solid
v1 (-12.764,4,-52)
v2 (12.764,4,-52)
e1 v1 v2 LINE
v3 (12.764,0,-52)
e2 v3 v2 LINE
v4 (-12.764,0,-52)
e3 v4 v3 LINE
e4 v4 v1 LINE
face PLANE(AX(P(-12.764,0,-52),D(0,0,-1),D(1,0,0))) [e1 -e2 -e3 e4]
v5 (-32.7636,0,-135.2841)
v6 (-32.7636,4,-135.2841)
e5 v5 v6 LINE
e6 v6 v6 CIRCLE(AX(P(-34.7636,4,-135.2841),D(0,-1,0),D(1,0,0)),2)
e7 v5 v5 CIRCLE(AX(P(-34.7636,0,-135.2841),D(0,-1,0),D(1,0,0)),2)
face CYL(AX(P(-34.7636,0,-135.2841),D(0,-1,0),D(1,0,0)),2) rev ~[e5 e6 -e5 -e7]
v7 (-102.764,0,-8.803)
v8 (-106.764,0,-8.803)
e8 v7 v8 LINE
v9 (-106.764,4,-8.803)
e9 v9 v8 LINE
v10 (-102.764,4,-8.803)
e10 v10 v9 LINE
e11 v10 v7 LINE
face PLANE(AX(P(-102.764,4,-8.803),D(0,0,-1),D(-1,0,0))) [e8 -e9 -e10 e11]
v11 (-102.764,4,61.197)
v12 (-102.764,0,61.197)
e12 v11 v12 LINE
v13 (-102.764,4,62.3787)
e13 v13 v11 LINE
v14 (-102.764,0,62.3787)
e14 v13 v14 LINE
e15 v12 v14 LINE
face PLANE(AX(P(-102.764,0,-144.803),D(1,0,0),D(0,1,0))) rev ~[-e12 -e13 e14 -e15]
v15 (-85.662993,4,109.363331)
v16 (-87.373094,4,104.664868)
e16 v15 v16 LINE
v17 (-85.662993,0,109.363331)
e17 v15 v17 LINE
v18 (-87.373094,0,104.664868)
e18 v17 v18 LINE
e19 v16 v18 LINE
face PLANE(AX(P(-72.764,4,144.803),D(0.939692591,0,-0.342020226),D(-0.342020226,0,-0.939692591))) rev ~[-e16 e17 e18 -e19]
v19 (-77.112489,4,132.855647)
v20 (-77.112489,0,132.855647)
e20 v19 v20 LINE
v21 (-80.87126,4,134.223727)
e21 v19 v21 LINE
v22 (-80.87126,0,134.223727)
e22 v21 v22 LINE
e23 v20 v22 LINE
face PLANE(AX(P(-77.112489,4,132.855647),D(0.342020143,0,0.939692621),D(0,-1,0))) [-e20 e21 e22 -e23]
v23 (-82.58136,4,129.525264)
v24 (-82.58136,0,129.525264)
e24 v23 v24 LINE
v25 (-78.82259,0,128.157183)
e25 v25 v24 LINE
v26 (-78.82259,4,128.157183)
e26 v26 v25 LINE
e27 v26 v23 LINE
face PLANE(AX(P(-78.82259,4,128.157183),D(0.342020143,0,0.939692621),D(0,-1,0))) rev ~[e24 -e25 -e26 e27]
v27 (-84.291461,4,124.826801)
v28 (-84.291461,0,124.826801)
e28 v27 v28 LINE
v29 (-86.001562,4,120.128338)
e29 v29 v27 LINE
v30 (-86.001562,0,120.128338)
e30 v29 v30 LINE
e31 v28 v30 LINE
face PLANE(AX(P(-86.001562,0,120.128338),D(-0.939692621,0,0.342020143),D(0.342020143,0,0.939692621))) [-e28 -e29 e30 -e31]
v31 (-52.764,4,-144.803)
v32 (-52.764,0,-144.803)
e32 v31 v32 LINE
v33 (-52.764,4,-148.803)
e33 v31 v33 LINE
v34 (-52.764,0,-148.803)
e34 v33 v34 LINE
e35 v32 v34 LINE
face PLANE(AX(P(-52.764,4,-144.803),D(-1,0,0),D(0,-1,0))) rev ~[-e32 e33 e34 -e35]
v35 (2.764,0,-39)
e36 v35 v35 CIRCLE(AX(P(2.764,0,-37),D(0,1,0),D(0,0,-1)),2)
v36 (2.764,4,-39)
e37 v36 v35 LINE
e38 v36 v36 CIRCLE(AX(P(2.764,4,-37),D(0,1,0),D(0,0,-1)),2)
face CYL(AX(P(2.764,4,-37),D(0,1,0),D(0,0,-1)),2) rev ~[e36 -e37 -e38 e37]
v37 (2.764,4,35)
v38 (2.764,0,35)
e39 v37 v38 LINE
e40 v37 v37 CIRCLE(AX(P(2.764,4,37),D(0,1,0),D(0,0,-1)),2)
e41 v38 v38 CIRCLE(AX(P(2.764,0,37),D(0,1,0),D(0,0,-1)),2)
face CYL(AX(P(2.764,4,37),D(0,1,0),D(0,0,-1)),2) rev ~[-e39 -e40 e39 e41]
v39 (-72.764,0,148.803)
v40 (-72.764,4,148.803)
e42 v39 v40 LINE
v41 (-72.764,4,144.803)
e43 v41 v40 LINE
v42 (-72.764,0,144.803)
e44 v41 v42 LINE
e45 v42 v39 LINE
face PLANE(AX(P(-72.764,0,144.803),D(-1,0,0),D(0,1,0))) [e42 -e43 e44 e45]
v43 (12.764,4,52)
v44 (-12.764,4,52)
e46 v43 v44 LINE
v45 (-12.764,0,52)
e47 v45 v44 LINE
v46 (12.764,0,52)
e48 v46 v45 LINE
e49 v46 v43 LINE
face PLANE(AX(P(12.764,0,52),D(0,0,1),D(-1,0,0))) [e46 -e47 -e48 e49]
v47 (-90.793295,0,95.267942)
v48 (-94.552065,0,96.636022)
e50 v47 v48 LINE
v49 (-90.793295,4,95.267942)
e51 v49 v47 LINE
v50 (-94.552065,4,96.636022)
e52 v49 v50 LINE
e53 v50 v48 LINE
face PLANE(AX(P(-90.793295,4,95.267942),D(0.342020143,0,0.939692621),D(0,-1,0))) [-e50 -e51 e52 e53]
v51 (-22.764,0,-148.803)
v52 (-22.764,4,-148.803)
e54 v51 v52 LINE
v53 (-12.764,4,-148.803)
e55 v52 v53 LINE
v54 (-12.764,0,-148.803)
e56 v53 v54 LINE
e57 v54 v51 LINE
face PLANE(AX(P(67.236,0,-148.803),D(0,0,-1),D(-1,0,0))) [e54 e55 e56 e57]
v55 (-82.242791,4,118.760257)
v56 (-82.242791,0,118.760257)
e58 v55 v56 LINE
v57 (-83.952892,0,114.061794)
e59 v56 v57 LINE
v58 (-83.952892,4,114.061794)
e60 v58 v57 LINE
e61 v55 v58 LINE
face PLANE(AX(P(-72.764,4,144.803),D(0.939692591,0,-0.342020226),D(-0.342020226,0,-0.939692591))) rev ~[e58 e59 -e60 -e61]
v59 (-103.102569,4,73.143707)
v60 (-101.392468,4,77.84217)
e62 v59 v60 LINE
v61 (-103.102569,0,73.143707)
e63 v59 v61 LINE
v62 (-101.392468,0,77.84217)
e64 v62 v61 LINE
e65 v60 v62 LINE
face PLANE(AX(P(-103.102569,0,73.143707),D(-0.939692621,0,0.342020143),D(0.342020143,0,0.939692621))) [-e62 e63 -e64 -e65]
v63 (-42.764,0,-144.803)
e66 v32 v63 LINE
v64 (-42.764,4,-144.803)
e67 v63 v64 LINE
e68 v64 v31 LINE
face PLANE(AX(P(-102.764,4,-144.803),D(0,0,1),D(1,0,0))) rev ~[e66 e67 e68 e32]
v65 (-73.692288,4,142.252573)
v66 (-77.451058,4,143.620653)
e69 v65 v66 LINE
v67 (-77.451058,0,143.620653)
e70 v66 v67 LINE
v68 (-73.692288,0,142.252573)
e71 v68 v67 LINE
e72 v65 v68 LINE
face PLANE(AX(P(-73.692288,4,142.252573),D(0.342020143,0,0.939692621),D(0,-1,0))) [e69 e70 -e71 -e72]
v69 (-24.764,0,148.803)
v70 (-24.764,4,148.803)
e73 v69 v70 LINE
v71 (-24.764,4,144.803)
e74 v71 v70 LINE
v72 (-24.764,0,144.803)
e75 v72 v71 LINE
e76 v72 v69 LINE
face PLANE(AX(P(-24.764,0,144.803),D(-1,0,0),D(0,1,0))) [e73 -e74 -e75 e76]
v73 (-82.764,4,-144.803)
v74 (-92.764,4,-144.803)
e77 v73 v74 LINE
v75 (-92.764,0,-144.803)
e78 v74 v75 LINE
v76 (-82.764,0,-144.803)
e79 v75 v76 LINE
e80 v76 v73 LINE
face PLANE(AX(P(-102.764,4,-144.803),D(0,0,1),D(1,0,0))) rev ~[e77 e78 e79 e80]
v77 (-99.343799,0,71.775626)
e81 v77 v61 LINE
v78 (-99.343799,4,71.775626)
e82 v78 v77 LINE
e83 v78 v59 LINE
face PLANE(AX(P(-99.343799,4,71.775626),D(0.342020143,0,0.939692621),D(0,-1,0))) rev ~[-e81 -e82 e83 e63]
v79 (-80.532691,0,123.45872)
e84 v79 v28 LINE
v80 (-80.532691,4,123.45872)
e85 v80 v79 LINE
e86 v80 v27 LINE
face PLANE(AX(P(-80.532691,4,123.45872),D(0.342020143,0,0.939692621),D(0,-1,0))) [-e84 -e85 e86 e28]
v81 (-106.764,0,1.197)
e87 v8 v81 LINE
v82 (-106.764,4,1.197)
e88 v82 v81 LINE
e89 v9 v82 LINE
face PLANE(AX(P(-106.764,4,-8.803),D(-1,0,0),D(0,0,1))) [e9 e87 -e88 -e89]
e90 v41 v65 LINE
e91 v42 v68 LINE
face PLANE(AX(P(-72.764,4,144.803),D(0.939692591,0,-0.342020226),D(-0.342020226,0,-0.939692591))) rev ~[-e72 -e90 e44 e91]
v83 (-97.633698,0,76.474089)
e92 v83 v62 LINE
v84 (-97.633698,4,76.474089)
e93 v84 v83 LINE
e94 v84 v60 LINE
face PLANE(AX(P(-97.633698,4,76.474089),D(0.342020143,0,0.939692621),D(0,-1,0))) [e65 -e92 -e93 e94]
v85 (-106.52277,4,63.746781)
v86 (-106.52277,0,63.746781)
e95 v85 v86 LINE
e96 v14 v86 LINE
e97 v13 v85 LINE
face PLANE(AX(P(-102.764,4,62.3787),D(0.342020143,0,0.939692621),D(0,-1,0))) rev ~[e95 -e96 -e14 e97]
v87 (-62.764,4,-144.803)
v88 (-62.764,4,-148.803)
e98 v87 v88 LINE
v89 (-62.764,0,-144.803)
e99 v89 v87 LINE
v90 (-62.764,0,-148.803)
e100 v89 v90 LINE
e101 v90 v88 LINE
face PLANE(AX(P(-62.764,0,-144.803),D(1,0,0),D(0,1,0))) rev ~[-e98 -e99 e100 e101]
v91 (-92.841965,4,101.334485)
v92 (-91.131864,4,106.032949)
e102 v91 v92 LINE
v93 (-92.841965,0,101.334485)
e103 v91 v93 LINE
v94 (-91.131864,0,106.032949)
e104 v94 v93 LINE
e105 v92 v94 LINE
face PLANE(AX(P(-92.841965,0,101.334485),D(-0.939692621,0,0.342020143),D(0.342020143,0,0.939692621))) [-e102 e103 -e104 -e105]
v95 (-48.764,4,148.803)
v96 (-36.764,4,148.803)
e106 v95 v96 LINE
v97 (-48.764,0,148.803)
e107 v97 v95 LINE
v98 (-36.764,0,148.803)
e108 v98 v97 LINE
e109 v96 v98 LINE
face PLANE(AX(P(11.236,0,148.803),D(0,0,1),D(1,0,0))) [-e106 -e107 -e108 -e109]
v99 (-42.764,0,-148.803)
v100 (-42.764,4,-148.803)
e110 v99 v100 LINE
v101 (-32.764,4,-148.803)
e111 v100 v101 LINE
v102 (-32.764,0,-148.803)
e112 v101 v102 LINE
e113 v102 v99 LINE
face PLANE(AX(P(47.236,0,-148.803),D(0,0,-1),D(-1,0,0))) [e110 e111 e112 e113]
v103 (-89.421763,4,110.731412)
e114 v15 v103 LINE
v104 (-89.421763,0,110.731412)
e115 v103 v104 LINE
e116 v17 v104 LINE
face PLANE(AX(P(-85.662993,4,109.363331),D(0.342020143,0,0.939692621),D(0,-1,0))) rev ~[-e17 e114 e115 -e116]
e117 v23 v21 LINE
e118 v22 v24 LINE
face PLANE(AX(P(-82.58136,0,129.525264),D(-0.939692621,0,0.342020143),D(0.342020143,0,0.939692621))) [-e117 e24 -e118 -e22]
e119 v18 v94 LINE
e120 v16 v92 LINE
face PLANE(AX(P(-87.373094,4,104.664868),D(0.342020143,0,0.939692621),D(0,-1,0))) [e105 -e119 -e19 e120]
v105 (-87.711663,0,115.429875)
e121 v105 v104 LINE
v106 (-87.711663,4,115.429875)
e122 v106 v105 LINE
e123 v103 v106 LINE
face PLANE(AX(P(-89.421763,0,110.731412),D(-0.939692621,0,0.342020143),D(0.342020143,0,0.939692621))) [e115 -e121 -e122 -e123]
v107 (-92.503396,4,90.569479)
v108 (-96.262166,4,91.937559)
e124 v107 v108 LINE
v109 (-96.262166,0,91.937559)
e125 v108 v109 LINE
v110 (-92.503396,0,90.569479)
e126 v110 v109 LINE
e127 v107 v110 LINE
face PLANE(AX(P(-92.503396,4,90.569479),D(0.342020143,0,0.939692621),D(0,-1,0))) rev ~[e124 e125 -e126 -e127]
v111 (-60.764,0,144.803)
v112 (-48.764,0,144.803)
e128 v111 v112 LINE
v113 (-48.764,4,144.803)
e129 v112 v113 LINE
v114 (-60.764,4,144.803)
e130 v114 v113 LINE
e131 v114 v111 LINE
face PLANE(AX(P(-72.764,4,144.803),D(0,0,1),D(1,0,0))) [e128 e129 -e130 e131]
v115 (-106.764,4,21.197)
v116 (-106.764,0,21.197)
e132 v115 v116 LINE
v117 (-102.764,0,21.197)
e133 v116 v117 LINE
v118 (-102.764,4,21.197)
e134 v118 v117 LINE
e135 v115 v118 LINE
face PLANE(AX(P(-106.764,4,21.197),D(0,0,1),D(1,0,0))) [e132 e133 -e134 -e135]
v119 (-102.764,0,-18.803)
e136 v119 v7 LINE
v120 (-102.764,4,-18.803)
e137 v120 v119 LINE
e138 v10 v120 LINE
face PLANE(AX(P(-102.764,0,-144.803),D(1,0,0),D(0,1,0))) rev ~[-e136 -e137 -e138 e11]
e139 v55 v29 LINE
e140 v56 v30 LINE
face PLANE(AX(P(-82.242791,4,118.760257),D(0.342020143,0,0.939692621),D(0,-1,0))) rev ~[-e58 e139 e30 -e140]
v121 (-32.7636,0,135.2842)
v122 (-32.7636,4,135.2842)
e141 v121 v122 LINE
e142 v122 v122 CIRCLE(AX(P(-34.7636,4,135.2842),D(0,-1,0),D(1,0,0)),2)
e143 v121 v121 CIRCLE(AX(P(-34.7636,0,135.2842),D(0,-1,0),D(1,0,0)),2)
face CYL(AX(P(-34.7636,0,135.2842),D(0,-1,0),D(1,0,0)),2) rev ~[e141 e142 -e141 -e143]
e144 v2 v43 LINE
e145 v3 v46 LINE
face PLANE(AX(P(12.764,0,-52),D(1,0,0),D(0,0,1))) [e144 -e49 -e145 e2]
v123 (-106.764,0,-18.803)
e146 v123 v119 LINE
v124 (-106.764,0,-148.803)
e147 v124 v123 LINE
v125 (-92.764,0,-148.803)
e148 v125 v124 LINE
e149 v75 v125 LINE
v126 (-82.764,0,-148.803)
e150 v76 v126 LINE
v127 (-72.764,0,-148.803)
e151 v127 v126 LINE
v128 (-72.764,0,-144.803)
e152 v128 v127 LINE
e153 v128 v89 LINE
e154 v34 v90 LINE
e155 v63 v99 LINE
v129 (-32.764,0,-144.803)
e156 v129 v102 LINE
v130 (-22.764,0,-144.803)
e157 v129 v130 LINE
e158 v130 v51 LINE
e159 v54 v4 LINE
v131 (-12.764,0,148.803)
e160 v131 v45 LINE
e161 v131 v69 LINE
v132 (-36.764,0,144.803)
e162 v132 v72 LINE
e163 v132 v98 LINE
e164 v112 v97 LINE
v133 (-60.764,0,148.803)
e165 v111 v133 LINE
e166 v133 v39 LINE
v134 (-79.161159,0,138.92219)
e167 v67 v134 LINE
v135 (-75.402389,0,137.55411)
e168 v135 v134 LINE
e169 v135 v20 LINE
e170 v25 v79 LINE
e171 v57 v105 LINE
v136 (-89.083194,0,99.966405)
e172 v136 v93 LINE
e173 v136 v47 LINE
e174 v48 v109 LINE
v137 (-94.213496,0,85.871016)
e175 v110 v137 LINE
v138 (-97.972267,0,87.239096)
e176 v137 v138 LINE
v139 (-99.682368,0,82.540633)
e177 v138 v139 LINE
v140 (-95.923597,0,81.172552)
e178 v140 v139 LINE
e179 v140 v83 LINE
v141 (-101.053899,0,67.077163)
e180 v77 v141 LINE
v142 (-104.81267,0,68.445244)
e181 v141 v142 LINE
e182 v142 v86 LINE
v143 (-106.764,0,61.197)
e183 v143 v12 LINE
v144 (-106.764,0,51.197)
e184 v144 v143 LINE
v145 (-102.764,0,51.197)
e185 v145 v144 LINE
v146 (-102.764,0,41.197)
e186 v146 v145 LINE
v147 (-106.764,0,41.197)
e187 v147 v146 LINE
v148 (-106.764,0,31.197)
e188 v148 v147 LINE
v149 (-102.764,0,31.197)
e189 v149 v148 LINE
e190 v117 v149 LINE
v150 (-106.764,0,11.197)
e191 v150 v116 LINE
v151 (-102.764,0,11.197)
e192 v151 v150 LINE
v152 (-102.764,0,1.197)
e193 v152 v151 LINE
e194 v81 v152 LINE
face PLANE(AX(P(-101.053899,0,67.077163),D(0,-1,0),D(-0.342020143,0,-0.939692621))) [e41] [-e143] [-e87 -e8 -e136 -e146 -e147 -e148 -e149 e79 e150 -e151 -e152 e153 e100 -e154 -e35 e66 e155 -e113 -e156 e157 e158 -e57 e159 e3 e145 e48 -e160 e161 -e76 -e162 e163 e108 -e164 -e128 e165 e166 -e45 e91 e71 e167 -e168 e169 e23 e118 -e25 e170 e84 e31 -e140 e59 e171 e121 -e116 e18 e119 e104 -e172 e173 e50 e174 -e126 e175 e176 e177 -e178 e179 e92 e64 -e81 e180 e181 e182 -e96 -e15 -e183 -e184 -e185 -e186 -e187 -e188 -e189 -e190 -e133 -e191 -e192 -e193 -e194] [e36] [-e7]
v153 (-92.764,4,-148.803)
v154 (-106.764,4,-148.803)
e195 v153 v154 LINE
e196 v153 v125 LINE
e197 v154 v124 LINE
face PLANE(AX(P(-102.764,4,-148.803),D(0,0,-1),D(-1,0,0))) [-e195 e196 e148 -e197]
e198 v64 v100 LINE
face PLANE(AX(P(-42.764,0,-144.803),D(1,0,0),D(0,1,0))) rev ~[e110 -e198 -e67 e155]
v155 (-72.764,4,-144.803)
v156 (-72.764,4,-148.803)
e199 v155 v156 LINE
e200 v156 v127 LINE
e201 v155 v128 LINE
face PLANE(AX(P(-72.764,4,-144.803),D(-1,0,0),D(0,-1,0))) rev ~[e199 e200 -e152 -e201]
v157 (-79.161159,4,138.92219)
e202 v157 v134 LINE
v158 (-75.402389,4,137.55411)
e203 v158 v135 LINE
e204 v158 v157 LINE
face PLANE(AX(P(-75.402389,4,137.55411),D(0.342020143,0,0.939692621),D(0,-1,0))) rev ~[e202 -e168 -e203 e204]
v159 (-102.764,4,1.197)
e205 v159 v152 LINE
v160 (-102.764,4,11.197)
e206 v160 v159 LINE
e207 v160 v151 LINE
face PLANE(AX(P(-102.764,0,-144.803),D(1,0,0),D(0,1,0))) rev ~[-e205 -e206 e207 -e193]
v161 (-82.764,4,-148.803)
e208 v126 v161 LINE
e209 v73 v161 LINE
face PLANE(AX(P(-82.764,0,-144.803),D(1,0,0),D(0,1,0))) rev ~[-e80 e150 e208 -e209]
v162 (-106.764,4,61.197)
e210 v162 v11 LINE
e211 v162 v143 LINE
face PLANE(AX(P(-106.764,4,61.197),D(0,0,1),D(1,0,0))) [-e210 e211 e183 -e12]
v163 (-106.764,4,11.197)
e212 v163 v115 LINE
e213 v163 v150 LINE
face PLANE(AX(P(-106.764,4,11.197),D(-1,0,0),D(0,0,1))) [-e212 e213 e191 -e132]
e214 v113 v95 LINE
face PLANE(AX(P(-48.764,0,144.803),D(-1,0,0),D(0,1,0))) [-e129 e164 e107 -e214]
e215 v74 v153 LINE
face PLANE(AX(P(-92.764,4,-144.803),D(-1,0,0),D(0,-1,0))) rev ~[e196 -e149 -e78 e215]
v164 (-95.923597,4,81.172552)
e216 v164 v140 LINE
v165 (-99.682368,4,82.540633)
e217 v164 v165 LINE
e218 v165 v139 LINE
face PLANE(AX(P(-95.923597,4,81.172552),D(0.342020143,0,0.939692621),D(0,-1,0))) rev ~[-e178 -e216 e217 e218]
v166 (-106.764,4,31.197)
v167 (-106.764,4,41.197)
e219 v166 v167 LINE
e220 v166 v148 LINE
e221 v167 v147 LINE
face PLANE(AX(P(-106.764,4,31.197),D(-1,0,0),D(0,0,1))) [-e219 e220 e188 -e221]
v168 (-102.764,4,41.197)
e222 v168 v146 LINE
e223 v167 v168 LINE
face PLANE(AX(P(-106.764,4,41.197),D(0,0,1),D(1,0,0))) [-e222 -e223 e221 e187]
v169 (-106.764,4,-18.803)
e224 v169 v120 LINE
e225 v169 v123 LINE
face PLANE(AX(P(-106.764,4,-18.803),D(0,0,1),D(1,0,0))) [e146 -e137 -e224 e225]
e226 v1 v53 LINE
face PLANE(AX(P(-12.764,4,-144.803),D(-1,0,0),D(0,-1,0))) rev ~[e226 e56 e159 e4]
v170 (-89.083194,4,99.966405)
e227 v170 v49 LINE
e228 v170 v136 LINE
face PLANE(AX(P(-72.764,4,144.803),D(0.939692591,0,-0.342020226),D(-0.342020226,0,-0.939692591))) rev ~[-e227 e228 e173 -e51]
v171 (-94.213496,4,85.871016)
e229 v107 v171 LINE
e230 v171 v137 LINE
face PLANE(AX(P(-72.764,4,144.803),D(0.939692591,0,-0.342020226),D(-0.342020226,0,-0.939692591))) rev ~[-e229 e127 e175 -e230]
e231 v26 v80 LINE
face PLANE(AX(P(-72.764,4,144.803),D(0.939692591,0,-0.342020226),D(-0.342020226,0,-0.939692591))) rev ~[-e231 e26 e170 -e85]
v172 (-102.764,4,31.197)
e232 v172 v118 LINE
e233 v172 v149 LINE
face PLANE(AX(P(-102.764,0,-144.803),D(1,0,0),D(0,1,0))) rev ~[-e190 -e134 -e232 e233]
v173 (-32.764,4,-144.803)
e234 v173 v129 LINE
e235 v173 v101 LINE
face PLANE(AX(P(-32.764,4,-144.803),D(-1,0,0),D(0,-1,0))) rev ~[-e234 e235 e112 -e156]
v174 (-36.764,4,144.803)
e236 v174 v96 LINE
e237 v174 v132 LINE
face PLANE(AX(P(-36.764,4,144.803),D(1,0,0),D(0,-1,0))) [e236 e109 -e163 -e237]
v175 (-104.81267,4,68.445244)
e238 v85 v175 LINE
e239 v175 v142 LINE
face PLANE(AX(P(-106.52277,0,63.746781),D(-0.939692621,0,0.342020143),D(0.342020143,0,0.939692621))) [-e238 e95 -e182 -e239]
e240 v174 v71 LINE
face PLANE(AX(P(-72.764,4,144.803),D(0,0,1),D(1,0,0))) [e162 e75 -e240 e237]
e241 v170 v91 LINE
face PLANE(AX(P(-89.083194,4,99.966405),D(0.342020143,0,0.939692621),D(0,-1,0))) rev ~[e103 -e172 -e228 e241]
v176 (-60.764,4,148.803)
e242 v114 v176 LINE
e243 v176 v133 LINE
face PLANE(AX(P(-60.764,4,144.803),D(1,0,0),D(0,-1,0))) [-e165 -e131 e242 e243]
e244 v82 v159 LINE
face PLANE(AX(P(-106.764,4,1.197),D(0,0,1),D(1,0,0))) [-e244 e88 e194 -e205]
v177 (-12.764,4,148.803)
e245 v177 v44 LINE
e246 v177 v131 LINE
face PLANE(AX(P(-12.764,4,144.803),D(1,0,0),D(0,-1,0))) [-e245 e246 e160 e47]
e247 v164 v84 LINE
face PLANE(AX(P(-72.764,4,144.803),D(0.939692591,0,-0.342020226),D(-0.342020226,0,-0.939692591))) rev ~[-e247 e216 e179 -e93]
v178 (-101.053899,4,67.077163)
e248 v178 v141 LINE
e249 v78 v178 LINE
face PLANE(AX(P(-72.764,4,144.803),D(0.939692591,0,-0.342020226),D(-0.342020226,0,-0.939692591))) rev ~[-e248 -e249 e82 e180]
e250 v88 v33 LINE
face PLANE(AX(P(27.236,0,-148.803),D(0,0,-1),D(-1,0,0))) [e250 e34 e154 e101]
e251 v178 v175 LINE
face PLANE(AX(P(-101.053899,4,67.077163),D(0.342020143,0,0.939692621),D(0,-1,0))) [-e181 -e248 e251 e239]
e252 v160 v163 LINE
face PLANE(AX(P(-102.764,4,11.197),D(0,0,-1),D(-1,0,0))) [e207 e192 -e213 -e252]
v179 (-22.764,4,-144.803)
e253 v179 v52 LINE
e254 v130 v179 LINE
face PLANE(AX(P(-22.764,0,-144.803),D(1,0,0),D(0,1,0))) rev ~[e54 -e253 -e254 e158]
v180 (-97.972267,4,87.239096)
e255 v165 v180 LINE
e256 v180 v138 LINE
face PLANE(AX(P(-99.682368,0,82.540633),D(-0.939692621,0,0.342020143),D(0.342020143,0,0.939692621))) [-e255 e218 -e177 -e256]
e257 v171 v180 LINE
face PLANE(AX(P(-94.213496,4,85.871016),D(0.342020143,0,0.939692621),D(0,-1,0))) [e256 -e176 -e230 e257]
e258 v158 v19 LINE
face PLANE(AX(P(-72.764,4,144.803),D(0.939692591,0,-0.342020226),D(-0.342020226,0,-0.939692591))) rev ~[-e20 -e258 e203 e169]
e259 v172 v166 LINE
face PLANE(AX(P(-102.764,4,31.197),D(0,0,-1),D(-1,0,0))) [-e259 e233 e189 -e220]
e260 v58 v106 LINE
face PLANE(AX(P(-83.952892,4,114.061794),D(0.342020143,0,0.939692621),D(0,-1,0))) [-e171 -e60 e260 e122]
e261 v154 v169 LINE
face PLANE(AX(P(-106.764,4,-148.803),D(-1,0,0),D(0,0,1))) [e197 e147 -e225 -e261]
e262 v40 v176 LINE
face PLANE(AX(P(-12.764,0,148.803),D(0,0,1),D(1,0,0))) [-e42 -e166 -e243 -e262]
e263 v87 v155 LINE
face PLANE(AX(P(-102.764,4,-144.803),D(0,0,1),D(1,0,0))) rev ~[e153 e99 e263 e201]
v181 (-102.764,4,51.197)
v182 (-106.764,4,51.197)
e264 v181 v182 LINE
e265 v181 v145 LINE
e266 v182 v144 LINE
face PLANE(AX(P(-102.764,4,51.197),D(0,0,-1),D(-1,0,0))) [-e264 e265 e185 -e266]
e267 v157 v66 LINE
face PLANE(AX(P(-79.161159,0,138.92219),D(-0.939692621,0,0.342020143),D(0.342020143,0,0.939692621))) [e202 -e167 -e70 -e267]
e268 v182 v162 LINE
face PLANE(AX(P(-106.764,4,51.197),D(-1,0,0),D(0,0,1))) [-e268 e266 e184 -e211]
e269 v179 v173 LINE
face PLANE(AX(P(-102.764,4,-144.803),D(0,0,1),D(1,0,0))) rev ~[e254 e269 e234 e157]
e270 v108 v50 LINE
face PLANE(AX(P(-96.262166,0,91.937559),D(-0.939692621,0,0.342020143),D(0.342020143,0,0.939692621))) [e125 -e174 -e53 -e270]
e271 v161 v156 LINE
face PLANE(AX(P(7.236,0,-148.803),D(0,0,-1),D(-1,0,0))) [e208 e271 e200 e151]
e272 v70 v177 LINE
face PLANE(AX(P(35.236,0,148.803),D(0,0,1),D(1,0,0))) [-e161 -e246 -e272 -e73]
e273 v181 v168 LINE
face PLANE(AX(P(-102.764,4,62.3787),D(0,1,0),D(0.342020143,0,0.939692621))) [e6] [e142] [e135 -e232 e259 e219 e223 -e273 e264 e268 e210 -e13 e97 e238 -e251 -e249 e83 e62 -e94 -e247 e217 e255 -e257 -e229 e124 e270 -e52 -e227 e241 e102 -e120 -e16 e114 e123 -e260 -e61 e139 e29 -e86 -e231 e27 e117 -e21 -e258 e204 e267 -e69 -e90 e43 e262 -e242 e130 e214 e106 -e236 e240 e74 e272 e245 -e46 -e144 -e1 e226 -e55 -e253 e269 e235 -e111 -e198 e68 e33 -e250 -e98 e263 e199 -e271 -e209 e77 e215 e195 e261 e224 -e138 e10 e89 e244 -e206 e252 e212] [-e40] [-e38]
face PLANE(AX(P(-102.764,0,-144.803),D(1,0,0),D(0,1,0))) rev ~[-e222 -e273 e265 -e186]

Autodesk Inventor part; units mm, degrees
ref_plane "YZ Plane" through (0, 0, 0) normal (1, 0, 0) x (0, 1, 0)
ref_plane "XZ Plane" through (0, 0, 0) normal (0, 1, 0) x (-1, 0, 0)
ref_plane "XY Plane" through (0, 0, 0) normal (0, 0, 1) x (1, 0, 0)
sketch "Эскиз1" plane through (2.236, 0, -46.8876) normal (0, 1, 0) x (-1, 0, 0)
  line L0 (-10.528, 98.8876) -> (15, 98.8876)
  line L1 (15, 98.8876) -> (15, -5.1124)
  line L2 (15, -5.1124) -> (-10.528, -5.1124)
  line L3 (-10.528, -5.1124) -> (-10.528, 98.8876)
  point P0 (0, 0)
  dimension "d0" = 25.528
  dimension "d1" = 104
extrude "Выдавливание1" add sketch "Эскиз1" along normal blind 4
sketch "Эскиз2" plane through (2.236, 4, -46.8876) normal (0, 1, 0) x (0, 0, -1)
  circle A0 centre (-9.8876, -0.528) radius 2 projected
  circle A1 centre (-83.8876, -0.528) radius 2 projected
  point P0 (0, 0)
extrude "Выдавливание2" cut sketch "Эскиз2" against normal blind 4
sketch "Эскиз3" plane through (2.236, 4, -46.8876) normal (0, 1, 0) x (1, 0, 0)
  line L0 (-75, -191.6906) -> (-15, -191.6906)
  line L1 (-15, -191.6906) -> (-15, 97.9154)
  line L2 (-15, 97.9154) -> (-75, 97.9154)
  line L3 (-75, 97.9154) -> (-75, -191.6906)
  line L4 (-15, -98.8876) -> (10.528, -98.8876) projected
  line L5 (10.528, 5.1124) -> (-15, 5.1124) projected
  point P0 (-2.236, -46.8876)
  dimension "d8" = 92.803
  dimension "d9" = 92.803
  dimension "d10" = 60
extrude "Выдавливание3" add sketch "Эскиз3" against normal blind 4
sketch "Эскиз4" plane through (2.236, 4, -46.8876) normal (0, 1, 0) x (1, 0, 0)
  line L0 (-75, -191.6906) -> (-75, 97.9154) projected
  line L1 (-75, -191.6906) -> (-105, -109.2663)
  line L2 (-105, -109.2663) -> (-105, 97.9154)
  line L3 (-105, 97.9154) -> (-75, 97.9154)
  line L4 (-2.236, -46.8876) -> (-20.0662, -46.8876)
  dimension "d13" = 30
  dimension "d14" = 90
  dimension "d17" = 20
extrude "Выдавливание4" add sketch "Эскиз4" against normal blind 4
sketch "Эскиз5" plane through (-12.764, 0, 144.803) normal (0, 0, 1) x (1, 0, 0)
  line L0 (-60, 4) -> (0, 4) projected
  line L1 (0, 0) -> (-60, 0) projected
  line L2 (-60, 4) -> (-48, 4)
  line L3 (-48, 4) -> (-48, 0)
  line L4 (-48, 0) -> (-60, 0)
  line L5 (-60, 0) -> (-60, 4)
  point P0 (12.764, 0)
  dimension "d18" = 12
extrude "Выдавливание5" add sketch "Эскиз5" along normal blind 4
pattern_linear "Прямоуг.массив1" count 3 spacing 24 along (1, 0, 0) of "Выдавливание5"
sketch "Эскиз6" plane through (-12.764, 0, -144.803) normal (0, 0, -1) x (-1, 0, 0)
  line L0 (90, 4) -> (60, 4) projected
  line L1 (60, 0) -> (90, 0) projected
  line L2 (90, 4) -> (80, 4)
  line L3 (80, 4) -> (80, 0)
  line L4 (80, 0) -> (90, 0)
  line L5 (90, 0) -> (90, 4)
  point P0 (-12.764, 0)
  point P1 (90, 0)
  point P2 (80, 4)
  dimension "d24" = 10
extrude "Выдавливание6" add sketch "Эскиз6" along normal blind 4
pattern_linear "Прямоуг.массив2" count 5 spacing 20 along (1, 0, 0) of "Выдавливание6"
sketch "Эскиз7" plane through (2.236, 4, -46.8876) normal (0, 1, 0) x (1, 0, 0)
  line L0 (-105, 101.9154) -> (-105, -109.2663) projected
  line L1 (-105, 101.9154) -> (-109, 101.9154)
  line L2 (-109, 101.9154) -> (-109, 91.9154)
  line L3 (-109, 91.9154) -> (-105, 91.9154)
  line L4 (-105, 91.9154) -> (-105, 101.9154)
  point P0 (-2.236, -46.8876)
  dimension "d30" = 4
  dimension "d31" = 10
extrude "Выдавливание7" add sketch "Эскиз7" against normal blind 4
pattern_linear "Прямоуг.массив3" count 11 spacing 20 along (0, 0, 1) of "Выдавливание7"
sketch "Эскиз8" plane through (2.236, 0, -46.8876) normal (0, -1, 0) x (1, 0, 0)
  circle A0 centre (-36.9996, -88.3965) radius 2 projected
  circle A1 centre (-36.9996, 182.1718) radius 2 projected
  point P0 (-2.236, 46.8876)
extrude "Выдавливание8" cut sketch "Эскиз8" against normal blind 4
sketch "Эскиз9" plane through (-102.764, 0, 62.3787) normal (-0.9397, 0, 0.342) x (0.342, 0, 0.9397)
  line L0 (0, 4) -> (0, 0) projected
  line L1 (0, 4) -> (5, 4)
  line L2 (5, 4) -> (5, 0)
  line L3 (5, 0) -> (0, 0)
  line L4 (0, 0) -> (0, 4)
  point P0 (-23.4694, 0)
  dimension "d39" = 5
  dimension "d40" = 4
extrude "Выдавливание9" add sketch "Эскиз9" along normal blind 4
pattern_linear "Прямоуг.массив4" count 9 spacing 10 along (0.342, 0, 0.9397) of "Выдавливание9"
sketch "Эскиз10" plane through (2.236, 4, -46.8876) normal (0, 1, 0) x (1, 0, 0)
  line L0 (-109, 101.9154) -> (-109, 91.9154) projected
  line L1 (-109, 101.9154) -> (-105, 101.9154)
  line L2 (-105, 101.9154) -> (-105, -23.0846)
  line L3 (-105, -23.0846) -> (-109, -23.0846)
  line L4 (-109, -23.0846) -> (-109, 101.9154)
  point P0 (-2.236, -46.8876)
  dimension "d46" = 125
extrude "Выдавливание10" add sketch "Эскиз10" against normal blind 4
properties part number "KB33-046-004-008 - Центральная правая боковая пластина"
